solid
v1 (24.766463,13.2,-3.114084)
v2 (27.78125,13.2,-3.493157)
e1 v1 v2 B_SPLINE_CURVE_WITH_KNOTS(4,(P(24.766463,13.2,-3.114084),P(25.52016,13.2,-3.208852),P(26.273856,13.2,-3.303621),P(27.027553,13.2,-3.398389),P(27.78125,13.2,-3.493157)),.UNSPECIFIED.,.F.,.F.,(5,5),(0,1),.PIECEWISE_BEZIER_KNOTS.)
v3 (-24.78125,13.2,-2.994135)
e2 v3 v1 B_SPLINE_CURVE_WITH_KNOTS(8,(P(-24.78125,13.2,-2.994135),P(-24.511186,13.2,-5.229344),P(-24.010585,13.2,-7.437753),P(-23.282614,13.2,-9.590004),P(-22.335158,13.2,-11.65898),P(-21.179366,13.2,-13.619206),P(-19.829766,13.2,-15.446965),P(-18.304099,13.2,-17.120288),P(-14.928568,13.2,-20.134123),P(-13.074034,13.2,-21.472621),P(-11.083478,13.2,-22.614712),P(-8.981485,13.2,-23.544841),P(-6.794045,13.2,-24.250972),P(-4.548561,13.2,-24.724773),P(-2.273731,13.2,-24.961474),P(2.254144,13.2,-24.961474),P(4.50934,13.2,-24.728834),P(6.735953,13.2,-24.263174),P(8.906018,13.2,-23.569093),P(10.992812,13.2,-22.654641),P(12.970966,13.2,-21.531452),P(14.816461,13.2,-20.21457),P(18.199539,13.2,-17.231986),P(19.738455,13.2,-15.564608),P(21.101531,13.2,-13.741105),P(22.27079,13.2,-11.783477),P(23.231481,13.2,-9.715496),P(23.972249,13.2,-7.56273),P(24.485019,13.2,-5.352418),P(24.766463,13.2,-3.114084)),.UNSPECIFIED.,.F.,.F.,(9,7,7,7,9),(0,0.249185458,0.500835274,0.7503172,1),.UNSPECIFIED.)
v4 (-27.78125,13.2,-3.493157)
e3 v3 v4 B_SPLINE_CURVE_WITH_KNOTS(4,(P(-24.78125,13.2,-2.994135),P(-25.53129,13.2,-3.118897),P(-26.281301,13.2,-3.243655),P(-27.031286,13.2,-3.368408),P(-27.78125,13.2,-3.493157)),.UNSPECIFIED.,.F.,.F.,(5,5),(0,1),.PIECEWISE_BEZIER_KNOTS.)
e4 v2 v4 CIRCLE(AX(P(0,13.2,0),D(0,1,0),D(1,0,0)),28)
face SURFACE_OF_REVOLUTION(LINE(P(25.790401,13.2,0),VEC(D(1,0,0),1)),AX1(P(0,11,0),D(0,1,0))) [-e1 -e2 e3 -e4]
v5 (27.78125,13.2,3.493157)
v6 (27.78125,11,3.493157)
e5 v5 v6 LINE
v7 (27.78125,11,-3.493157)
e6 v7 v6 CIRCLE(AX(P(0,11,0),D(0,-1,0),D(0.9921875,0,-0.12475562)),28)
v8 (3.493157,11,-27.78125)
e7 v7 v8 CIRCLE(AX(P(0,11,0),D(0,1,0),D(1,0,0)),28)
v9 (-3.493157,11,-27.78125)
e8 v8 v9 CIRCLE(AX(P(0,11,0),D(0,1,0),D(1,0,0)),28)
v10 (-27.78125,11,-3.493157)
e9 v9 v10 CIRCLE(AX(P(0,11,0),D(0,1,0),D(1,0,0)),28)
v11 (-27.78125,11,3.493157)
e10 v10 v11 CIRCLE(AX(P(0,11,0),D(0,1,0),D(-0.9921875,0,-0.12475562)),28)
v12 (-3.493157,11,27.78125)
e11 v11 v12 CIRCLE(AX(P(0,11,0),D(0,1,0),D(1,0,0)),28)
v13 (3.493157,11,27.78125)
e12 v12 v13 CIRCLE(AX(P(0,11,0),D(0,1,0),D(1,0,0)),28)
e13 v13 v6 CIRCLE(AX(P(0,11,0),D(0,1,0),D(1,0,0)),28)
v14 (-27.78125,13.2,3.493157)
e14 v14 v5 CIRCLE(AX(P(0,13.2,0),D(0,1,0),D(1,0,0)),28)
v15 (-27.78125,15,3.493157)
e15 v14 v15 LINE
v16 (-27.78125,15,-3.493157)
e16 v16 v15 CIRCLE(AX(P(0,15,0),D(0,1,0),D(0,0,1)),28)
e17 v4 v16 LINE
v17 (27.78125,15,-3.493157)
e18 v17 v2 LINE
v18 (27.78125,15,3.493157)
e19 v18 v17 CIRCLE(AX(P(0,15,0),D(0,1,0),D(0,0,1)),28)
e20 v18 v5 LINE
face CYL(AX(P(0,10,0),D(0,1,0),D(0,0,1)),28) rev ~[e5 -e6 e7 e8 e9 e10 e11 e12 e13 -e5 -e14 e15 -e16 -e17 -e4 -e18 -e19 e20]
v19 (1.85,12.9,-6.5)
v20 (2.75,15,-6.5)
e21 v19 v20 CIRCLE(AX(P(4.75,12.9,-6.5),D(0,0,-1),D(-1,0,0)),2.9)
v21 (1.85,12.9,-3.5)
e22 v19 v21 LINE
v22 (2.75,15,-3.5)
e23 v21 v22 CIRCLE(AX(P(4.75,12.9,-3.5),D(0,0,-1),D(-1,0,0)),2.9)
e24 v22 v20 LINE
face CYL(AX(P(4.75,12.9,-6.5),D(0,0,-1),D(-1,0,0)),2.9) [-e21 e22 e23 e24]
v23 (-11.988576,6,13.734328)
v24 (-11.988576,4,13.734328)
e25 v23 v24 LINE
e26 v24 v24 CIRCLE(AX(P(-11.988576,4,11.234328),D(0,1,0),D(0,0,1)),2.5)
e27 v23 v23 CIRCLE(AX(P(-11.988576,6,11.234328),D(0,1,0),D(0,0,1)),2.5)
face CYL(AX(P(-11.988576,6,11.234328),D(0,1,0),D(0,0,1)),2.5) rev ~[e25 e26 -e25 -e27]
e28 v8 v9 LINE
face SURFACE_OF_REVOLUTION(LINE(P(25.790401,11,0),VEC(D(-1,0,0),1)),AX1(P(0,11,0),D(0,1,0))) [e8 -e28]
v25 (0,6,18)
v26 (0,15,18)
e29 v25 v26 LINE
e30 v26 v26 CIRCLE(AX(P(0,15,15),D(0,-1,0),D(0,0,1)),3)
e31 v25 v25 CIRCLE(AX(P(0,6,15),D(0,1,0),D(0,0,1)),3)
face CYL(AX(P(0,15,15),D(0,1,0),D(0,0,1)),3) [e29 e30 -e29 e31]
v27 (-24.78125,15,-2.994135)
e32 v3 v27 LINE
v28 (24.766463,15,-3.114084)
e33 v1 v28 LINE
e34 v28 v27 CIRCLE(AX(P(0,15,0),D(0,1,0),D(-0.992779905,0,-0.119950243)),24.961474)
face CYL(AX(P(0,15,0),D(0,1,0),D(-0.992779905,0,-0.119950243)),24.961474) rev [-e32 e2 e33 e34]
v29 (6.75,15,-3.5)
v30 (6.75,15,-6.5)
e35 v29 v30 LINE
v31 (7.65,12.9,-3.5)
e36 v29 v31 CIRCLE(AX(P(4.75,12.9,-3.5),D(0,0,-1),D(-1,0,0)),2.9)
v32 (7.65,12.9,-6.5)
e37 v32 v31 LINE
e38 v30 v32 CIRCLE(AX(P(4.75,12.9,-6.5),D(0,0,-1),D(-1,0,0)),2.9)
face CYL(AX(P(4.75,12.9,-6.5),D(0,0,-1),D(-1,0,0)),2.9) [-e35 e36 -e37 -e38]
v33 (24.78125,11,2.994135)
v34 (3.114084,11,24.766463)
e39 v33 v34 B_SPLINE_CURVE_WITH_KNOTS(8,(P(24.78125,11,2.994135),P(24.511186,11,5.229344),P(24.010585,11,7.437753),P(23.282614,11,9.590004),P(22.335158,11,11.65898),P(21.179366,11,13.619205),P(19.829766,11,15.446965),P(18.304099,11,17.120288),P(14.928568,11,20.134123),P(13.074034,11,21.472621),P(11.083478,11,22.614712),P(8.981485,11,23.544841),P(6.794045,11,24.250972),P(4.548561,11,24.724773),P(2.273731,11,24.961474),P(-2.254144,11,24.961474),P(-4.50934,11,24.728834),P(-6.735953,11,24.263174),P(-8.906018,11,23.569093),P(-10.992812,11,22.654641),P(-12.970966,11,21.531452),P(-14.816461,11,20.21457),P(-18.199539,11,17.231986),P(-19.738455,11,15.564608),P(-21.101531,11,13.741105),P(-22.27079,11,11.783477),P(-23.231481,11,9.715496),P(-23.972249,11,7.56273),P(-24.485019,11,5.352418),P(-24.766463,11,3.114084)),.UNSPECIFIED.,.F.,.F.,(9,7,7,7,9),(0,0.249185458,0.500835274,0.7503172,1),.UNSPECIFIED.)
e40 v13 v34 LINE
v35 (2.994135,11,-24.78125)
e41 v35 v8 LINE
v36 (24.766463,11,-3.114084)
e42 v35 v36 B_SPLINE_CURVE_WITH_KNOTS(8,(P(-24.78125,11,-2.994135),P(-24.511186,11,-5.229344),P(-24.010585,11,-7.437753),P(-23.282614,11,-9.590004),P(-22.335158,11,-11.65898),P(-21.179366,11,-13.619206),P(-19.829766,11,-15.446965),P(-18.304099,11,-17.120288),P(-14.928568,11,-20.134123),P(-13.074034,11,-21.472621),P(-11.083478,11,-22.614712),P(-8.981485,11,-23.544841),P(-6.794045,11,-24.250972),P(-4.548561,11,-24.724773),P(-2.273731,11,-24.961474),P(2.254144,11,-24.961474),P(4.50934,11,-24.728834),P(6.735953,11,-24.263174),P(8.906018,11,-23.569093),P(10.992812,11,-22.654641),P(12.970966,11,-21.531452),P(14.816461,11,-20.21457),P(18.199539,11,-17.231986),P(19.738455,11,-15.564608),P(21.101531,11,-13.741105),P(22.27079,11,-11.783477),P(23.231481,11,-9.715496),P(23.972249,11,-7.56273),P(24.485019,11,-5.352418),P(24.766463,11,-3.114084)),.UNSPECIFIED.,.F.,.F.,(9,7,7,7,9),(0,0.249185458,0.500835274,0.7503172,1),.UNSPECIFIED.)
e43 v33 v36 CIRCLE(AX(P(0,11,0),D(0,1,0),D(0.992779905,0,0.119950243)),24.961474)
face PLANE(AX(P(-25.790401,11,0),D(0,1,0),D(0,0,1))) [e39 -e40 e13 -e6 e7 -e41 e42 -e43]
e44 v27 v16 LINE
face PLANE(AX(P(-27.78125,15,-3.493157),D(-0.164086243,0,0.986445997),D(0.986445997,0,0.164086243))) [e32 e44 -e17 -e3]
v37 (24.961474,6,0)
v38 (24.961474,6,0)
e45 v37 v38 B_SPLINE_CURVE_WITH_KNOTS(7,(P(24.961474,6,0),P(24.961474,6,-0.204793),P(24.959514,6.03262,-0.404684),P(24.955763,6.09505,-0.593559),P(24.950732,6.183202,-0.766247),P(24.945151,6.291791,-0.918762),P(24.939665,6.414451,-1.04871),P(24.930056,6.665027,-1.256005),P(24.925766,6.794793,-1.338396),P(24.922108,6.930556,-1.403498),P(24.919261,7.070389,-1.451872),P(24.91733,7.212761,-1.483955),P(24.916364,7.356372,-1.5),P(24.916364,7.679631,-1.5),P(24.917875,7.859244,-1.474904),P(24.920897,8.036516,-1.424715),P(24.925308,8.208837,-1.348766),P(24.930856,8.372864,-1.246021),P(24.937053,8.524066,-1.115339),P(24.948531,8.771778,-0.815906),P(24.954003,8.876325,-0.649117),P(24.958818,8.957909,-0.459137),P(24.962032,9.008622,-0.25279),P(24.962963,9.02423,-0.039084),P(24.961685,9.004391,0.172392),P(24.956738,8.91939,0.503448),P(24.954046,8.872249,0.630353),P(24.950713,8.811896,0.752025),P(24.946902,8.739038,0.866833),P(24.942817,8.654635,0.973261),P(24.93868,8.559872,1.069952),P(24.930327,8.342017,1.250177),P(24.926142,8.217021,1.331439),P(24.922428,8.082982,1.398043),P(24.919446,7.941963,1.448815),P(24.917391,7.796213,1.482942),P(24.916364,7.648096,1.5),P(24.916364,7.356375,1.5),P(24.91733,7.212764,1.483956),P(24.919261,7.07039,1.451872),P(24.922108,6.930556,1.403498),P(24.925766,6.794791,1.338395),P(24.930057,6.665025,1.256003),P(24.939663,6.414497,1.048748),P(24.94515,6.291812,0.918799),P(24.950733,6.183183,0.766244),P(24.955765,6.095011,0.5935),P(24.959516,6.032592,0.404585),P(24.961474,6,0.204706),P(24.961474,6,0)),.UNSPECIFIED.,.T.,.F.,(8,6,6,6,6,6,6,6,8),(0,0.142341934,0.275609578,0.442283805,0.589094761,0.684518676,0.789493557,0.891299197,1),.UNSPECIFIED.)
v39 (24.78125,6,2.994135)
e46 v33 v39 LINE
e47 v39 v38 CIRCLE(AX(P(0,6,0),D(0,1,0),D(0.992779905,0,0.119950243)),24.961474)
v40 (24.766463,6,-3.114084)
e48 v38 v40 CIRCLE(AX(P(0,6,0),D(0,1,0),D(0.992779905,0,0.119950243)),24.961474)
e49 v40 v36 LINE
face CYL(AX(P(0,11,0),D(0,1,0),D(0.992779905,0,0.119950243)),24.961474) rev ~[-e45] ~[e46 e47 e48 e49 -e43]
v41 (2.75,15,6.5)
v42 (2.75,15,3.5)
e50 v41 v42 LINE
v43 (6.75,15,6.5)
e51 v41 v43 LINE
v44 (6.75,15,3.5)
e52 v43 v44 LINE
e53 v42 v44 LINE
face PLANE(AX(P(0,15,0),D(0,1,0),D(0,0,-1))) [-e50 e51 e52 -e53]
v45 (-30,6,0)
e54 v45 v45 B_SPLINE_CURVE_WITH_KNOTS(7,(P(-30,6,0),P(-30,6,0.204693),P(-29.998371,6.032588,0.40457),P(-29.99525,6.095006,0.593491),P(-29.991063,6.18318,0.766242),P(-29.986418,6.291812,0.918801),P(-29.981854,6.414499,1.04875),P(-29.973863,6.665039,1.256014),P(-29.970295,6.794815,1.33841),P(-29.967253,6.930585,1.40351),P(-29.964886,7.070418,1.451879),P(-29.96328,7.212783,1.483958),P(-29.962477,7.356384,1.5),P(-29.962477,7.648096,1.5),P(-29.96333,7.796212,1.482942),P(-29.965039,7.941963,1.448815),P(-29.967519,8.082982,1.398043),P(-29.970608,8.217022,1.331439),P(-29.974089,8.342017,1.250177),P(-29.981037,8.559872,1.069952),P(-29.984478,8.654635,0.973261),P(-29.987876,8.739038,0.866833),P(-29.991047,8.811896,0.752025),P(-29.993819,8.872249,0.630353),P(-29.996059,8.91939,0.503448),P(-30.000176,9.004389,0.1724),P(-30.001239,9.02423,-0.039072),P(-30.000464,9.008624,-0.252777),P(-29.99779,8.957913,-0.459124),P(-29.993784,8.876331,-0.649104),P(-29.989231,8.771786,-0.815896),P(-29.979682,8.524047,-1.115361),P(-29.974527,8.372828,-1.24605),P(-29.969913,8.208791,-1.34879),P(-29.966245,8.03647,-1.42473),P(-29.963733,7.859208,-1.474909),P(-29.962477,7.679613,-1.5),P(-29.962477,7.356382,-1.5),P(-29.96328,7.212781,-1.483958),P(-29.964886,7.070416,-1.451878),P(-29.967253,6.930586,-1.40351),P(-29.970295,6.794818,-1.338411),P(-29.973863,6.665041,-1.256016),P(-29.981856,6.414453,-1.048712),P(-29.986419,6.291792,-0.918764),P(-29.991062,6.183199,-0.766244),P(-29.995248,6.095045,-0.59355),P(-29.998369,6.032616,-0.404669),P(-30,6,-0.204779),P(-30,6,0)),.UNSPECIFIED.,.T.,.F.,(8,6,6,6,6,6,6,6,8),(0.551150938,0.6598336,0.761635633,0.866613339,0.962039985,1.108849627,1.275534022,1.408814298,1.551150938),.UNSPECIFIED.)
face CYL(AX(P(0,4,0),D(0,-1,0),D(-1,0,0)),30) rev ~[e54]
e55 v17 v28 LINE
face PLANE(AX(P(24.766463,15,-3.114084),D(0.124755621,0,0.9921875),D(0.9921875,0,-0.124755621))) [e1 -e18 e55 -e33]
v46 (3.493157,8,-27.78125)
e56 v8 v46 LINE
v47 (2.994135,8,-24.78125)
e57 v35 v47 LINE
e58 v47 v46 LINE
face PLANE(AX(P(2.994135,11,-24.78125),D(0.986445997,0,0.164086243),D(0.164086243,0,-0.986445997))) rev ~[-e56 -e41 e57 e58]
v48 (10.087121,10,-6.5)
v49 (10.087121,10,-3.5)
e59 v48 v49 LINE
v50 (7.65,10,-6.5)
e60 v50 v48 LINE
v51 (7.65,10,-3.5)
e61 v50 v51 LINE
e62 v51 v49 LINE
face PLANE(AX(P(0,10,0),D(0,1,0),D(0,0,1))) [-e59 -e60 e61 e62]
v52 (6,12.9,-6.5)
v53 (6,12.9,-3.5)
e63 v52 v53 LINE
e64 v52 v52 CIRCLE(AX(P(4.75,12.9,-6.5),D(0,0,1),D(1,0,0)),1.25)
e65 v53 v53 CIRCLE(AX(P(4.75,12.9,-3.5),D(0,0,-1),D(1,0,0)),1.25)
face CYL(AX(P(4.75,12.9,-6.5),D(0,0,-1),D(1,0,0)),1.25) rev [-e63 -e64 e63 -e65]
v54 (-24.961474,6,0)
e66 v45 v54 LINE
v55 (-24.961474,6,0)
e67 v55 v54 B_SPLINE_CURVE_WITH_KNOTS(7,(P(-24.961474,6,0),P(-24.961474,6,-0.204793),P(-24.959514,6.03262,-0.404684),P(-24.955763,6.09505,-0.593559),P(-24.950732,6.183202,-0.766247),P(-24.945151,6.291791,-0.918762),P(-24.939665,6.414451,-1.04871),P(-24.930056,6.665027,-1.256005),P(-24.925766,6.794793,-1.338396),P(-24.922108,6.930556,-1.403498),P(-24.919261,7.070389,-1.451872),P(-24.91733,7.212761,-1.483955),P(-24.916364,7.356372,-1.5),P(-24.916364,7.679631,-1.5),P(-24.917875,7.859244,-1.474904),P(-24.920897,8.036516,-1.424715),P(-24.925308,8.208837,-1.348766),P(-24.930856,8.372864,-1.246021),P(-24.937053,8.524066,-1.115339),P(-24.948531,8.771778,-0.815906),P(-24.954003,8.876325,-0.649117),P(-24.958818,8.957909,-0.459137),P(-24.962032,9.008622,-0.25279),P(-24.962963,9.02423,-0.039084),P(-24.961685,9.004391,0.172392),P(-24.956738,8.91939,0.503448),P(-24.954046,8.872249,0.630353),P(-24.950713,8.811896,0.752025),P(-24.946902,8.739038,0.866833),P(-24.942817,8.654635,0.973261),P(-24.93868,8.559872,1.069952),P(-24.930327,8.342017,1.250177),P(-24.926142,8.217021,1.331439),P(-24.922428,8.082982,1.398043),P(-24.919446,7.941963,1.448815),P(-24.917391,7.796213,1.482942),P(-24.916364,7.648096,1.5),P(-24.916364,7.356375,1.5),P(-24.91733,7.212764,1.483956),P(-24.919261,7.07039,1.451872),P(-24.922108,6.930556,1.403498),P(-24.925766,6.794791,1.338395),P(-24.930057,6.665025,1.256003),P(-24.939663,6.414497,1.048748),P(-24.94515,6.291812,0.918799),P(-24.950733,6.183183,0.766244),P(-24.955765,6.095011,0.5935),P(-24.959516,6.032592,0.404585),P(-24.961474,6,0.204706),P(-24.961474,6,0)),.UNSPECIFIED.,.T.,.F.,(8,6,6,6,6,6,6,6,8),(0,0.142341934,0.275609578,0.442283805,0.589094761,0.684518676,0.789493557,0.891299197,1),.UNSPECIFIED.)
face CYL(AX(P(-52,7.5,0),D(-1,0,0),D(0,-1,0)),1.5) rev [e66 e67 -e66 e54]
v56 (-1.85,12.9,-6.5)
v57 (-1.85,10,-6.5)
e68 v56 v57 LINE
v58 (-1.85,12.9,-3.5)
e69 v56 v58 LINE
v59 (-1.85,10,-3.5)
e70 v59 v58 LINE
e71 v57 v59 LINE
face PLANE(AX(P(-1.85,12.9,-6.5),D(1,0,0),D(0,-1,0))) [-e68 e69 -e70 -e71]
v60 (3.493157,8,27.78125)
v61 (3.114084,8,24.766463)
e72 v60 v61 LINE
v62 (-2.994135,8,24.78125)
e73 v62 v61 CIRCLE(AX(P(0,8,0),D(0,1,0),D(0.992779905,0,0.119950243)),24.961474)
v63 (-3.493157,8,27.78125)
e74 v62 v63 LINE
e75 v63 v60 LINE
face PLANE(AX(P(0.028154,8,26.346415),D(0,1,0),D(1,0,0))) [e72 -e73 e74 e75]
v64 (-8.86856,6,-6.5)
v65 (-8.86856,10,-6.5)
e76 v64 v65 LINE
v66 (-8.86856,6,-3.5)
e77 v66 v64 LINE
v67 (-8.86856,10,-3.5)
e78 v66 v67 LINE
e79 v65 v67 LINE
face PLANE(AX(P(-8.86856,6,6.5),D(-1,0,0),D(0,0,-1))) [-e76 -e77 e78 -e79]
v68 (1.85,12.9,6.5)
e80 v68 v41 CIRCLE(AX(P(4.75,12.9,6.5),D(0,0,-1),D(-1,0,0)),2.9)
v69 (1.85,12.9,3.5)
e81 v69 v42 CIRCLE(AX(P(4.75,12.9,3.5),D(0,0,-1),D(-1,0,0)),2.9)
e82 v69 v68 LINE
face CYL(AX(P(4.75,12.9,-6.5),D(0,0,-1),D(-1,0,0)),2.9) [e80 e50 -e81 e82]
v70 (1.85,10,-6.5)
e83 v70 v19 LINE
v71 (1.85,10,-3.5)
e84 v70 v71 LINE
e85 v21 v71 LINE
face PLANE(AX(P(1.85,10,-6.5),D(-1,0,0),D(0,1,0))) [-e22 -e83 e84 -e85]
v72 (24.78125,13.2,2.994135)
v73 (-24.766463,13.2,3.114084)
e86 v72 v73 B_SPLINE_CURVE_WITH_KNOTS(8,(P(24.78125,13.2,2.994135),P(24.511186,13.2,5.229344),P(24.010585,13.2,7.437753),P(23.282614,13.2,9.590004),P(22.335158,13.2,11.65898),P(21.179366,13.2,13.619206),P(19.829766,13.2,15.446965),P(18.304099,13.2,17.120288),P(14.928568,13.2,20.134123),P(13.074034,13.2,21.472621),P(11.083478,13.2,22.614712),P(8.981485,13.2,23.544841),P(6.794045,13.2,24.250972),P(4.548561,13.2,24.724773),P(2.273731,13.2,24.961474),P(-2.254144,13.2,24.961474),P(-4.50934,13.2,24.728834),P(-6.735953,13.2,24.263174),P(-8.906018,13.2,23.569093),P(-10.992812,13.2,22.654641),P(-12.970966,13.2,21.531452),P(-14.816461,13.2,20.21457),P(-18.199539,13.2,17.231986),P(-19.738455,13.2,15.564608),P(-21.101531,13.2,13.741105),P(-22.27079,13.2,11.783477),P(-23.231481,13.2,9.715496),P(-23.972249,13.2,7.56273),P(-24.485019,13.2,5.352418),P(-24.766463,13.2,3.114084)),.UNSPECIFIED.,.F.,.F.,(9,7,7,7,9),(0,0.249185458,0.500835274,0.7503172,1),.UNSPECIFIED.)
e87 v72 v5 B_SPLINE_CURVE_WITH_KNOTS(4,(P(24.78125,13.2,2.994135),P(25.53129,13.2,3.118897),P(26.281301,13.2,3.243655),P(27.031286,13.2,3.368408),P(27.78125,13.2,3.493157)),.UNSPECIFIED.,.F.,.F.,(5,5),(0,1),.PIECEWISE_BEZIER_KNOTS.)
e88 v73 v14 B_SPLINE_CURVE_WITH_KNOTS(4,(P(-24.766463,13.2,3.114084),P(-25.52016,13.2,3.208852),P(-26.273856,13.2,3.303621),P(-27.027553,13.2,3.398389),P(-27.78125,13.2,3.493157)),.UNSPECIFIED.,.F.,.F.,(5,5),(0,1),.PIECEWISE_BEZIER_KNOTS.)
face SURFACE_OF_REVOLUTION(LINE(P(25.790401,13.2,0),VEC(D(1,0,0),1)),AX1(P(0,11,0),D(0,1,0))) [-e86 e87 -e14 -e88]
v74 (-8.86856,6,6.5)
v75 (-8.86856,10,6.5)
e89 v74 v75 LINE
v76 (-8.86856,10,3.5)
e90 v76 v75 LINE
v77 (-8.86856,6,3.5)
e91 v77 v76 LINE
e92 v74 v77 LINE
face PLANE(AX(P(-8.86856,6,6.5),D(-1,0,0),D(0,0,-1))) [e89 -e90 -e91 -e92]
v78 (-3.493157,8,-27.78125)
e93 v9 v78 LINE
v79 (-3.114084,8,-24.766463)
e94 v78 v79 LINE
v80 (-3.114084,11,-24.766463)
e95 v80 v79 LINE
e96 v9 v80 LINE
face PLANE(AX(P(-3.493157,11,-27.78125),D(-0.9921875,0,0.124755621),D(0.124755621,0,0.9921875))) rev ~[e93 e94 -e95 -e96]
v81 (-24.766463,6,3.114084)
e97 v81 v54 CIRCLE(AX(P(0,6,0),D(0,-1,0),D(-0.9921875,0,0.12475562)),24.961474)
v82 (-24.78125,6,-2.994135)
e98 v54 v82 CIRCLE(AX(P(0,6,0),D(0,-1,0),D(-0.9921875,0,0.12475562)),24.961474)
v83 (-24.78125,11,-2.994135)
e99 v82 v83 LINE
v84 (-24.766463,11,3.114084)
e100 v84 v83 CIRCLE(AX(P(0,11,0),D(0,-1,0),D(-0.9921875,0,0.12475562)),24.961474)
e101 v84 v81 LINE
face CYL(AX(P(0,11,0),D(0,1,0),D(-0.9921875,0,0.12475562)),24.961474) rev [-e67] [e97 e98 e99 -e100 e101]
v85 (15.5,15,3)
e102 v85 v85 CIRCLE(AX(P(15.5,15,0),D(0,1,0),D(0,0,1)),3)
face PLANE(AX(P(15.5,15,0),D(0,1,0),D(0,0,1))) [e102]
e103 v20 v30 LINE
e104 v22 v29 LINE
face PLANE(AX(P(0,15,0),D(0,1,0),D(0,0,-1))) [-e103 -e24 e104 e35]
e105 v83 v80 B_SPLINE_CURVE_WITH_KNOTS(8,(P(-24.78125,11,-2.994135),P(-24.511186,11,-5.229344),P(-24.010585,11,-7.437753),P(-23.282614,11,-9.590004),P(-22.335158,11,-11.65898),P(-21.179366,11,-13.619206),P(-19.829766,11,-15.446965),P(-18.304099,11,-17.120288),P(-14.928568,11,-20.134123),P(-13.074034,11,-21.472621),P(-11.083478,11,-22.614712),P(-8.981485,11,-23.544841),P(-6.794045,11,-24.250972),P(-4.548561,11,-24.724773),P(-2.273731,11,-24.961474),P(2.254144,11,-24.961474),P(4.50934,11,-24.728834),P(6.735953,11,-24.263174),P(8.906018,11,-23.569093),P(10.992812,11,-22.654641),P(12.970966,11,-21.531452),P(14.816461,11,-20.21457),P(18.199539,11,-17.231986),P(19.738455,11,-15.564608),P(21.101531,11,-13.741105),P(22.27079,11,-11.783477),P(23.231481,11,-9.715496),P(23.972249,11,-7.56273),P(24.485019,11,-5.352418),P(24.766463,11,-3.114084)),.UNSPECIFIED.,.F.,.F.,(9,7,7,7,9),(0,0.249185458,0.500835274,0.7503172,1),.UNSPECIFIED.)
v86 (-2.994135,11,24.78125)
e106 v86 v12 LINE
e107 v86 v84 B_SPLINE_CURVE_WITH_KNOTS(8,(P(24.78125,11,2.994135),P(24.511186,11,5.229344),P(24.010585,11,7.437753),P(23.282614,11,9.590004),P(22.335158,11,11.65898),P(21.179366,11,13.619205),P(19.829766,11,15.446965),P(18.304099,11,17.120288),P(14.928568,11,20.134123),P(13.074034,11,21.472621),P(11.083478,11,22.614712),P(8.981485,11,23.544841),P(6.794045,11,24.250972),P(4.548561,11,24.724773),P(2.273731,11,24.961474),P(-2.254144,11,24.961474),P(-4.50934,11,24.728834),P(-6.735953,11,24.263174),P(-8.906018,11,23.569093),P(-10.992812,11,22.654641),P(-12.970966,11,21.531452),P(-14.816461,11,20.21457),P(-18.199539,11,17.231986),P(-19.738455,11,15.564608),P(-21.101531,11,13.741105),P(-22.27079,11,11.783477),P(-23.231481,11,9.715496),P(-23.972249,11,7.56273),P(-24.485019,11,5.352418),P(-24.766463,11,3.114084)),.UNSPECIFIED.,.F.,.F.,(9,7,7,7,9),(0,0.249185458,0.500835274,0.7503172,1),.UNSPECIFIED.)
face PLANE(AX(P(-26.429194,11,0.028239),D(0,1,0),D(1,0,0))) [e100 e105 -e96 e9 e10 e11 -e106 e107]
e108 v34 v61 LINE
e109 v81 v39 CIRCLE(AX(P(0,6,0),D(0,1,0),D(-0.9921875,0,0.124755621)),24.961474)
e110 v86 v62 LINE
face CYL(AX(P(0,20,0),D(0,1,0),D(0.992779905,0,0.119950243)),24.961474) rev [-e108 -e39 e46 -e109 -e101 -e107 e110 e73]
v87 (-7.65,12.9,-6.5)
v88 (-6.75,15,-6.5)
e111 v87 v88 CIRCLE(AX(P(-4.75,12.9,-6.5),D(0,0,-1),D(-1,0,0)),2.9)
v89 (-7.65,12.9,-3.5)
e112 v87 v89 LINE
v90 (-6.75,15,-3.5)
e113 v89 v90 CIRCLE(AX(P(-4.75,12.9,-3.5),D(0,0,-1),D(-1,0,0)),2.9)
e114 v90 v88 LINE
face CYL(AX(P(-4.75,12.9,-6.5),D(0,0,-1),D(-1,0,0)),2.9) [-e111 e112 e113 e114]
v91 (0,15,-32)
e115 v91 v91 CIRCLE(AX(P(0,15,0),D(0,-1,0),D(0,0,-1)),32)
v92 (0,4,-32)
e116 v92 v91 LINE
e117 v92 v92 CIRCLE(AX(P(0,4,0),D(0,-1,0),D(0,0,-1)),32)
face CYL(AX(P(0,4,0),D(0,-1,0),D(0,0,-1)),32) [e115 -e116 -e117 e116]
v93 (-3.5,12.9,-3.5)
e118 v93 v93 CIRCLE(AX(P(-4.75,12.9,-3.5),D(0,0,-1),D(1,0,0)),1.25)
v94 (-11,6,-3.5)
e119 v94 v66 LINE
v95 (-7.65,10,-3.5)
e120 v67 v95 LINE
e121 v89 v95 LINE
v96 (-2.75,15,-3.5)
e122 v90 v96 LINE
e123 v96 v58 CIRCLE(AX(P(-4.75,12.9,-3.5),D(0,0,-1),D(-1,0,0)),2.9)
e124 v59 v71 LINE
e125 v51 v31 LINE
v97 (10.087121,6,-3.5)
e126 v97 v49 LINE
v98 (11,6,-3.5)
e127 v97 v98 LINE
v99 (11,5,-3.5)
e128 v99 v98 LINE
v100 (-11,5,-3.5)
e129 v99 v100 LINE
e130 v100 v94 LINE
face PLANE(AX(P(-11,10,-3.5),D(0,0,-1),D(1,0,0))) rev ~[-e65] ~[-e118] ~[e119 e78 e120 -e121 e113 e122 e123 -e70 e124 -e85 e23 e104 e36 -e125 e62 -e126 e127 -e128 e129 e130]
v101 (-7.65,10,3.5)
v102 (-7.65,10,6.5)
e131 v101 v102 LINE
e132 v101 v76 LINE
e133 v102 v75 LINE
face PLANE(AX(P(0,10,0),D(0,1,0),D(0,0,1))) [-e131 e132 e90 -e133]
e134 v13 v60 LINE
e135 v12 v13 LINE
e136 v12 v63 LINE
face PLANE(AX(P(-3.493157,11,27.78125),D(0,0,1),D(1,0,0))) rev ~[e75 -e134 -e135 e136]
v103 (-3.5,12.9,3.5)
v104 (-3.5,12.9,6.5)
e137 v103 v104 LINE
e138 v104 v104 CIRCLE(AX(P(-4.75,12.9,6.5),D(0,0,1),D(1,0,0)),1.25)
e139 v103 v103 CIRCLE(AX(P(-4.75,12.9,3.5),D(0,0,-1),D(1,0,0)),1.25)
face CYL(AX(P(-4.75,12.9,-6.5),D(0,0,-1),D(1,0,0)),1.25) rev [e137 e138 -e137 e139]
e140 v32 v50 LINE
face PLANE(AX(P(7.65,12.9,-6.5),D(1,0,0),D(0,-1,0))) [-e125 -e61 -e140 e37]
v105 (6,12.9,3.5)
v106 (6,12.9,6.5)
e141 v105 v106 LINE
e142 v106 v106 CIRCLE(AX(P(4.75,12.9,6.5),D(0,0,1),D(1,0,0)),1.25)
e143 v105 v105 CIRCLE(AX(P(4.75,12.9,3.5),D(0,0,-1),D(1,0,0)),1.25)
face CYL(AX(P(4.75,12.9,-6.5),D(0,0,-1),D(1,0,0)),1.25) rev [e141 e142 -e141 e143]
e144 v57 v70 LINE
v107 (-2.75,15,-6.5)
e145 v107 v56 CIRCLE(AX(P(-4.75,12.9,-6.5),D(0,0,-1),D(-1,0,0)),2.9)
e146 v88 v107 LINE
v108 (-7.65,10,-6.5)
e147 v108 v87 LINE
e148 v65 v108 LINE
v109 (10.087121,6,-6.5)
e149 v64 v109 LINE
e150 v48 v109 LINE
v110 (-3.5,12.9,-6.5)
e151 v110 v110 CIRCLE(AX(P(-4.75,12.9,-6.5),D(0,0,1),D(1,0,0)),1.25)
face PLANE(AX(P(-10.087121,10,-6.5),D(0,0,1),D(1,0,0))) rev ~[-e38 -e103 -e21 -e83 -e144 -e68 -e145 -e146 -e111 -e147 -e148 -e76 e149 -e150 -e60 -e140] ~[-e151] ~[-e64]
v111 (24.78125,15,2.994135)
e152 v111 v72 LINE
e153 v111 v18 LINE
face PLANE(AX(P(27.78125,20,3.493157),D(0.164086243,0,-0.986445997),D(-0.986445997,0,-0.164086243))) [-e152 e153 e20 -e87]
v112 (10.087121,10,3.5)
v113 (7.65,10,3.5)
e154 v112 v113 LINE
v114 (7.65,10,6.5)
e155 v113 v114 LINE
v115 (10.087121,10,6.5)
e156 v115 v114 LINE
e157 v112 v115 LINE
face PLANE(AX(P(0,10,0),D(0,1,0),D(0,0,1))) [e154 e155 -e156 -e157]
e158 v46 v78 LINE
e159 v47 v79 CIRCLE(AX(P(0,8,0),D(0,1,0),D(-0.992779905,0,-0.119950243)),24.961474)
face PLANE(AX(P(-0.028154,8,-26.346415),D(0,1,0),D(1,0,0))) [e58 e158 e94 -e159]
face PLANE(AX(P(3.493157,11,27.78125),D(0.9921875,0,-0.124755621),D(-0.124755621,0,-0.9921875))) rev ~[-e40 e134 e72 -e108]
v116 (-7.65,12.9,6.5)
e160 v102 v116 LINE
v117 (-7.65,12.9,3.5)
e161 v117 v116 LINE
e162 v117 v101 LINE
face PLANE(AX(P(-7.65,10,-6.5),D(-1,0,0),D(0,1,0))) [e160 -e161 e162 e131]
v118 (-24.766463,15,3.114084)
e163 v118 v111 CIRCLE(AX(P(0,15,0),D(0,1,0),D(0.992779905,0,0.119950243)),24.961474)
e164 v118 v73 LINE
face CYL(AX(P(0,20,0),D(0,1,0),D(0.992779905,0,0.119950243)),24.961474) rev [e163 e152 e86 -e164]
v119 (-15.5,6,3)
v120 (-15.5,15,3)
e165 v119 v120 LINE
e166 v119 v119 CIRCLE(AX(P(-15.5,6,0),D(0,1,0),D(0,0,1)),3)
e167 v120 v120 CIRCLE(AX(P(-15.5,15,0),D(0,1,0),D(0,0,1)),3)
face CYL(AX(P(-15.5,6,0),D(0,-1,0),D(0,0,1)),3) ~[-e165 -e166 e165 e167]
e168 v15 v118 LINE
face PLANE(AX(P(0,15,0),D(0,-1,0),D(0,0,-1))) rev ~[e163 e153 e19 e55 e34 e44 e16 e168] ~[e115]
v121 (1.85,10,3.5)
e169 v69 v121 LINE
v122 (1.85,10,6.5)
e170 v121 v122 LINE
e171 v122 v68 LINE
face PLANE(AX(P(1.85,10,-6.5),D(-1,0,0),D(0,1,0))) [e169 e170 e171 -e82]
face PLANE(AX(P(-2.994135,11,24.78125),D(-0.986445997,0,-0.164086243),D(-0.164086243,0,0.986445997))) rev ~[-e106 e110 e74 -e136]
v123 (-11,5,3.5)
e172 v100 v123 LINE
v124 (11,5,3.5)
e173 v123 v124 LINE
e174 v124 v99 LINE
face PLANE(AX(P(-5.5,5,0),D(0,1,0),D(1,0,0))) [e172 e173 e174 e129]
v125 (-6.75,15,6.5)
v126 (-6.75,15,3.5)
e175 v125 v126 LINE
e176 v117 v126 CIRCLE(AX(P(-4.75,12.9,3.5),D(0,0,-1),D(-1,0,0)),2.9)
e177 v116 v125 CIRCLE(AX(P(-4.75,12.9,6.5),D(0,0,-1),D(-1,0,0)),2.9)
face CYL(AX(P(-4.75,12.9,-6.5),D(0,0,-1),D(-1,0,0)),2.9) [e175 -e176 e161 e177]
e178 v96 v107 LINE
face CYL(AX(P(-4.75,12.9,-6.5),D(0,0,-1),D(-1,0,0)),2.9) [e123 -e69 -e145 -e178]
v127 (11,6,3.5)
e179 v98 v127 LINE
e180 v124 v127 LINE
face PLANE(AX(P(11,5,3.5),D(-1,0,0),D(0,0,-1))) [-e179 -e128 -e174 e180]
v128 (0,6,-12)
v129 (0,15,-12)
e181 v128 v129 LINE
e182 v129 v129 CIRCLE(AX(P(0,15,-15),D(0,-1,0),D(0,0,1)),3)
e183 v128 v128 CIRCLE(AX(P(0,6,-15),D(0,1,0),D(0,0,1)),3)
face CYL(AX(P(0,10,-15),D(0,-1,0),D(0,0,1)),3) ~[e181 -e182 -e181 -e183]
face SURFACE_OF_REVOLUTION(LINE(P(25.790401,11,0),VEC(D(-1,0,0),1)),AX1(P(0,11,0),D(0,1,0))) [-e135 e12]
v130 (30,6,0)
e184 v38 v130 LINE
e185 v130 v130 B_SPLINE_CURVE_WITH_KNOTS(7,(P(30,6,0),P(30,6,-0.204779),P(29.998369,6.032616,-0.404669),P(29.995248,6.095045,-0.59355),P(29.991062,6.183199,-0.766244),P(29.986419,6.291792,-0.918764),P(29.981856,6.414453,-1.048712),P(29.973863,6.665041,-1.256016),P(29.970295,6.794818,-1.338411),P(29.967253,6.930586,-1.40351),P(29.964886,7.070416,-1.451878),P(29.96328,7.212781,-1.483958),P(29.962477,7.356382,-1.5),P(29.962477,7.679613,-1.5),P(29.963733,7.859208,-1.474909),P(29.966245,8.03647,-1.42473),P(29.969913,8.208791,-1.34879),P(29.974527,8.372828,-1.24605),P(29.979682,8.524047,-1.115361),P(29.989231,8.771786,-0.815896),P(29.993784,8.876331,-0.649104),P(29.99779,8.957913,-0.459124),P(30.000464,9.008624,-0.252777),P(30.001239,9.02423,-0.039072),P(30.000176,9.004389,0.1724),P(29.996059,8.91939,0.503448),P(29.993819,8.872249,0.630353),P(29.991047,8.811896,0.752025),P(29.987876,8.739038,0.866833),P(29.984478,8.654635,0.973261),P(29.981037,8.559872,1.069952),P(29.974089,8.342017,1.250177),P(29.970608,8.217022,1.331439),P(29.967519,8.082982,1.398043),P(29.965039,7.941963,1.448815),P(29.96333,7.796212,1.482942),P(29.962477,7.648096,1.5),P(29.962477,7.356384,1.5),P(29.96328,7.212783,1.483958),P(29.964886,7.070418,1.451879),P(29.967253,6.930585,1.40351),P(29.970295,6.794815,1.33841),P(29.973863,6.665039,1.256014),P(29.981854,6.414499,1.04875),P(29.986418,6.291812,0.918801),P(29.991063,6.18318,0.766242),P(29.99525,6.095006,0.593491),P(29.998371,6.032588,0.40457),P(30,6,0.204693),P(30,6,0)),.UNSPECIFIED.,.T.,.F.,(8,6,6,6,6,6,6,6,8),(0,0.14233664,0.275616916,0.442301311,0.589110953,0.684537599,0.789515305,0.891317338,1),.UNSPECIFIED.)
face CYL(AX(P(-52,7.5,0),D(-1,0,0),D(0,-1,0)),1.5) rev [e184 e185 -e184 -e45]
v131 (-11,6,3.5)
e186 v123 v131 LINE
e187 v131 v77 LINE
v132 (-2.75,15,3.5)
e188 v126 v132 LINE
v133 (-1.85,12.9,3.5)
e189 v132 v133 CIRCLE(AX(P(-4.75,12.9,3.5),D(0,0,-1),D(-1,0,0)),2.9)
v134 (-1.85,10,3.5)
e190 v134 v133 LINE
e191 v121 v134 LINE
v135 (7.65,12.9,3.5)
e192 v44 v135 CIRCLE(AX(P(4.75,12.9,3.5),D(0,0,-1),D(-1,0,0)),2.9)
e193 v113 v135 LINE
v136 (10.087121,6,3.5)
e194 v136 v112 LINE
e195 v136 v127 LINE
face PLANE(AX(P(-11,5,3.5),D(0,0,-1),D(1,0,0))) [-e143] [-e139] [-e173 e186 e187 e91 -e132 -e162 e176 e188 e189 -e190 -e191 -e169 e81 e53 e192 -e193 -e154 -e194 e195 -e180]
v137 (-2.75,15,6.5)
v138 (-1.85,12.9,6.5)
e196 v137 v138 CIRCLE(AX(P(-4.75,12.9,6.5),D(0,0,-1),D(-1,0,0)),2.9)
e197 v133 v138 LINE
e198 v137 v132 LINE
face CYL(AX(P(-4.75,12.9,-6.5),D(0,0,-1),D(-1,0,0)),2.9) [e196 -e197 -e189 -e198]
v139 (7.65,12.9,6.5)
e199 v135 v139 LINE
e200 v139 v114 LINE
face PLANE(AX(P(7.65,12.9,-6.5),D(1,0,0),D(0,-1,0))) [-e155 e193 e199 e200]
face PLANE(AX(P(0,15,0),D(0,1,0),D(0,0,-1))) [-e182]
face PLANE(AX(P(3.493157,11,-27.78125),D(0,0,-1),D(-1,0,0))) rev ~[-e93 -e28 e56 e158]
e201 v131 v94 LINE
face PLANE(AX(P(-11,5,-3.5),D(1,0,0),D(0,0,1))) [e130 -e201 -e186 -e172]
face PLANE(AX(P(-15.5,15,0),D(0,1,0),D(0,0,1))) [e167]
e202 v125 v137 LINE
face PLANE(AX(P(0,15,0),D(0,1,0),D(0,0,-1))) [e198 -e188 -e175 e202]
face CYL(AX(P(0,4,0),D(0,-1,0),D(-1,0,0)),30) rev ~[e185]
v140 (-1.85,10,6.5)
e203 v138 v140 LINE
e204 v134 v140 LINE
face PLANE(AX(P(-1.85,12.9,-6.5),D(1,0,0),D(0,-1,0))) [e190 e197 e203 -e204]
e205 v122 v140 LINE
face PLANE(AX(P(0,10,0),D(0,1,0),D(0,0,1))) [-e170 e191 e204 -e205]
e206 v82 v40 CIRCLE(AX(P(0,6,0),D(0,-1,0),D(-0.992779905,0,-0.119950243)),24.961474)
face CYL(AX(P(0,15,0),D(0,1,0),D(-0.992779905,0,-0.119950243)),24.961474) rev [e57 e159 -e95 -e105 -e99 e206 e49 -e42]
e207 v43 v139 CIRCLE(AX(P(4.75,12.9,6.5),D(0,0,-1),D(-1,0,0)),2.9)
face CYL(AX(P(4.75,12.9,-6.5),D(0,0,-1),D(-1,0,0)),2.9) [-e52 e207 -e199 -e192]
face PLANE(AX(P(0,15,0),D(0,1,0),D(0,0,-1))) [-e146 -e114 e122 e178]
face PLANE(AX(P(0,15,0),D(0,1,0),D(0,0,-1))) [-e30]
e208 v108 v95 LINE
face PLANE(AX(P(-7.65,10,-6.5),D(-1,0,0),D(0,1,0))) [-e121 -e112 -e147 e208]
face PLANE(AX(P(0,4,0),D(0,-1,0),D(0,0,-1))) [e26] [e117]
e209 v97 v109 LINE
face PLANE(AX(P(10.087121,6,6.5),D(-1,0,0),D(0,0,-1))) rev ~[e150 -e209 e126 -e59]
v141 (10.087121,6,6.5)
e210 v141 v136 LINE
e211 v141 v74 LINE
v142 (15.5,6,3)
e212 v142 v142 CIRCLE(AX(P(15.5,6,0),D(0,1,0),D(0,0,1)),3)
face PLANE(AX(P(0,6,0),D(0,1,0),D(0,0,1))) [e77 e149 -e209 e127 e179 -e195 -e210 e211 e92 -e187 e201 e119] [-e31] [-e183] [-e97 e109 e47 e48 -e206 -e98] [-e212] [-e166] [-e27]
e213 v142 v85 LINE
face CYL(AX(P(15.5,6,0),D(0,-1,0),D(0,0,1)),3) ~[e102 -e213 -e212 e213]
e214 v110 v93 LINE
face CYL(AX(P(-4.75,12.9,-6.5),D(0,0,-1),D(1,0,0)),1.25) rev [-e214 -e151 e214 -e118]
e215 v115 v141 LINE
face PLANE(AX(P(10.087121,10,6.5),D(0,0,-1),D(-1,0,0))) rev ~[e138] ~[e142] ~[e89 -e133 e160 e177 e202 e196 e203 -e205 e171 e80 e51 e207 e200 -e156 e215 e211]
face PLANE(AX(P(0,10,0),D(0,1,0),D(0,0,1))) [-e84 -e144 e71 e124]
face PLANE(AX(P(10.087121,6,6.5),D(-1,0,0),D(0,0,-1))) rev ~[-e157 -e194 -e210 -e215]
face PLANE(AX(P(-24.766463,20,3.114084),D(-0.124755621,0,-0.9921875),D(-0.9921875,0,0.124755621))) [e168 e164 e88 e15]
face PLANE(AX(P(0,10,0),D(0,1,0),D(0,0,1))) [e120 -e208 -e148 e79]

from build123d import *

# Parameters (mm, degrees)
SKETCH1_R                = 30
BOSS_EXTRUDE1_DEPTH      = 20
SKETCH2_R                = 28
CUT_EXTRUDE1_DEPTH       = 10
CUT_EXTRUDE2_DEPTH       = 6.5
CUT_EXTRUDE2_DEPTH_BACK  = 5
BOSS_EXTRUDE2_DEPTH      = 6.5
BOSS_EXTRUDE2_DEPTH_BACK = 6.5
SKETCH4_R                = 1.25
SKETCH5_W                = 22
SKETCH5_H                = 7
CUT_EXTRUDE4_DEPTH       = 8.5
SKETCH8_R                = 3
BOSS_EXTRUDE3_DEPTH      = 10
SKETCH9_R                = 30
CUT_EXTRUDE6_DEPTH       = 4
BOSS_EXTRUDE4_DEPTH      = 7
BOSS_EXTRUDE4_2_DEPTH    = 7
CUT_EXTRUDE7_START       = -5
SKETCH12_R               = 30
CUT_EXTRUDE7_DEPTH       = 5
SKETCH13_R               = 28
SKETCH13_R_2             = 12
CUT_EXTRUDE8_DEPTH       = 4
BOSS_EXTRUDE5_DEPTH      = 9
SKETCH24_W               = 4.419198498
SKETCH24_H               = 2.2
CUT_EXTRUDE9_DEPTH       = 4
CUT_EXTRUDE10_DEPTH      = 3
BOSS_EXTRUDE6_DEPTH      = 5
SKETCH34_R               = 3
BOSS_EXTRUDE7_DEPTH      = 9
CUT_EXTRUDE12_DEPTH      = 53
CUT_EXTRUDE12_DEPTH_BACK = 41
SKETCH35_R               = 1.5
SKETCH37_R               = 3
BOSS_EXTRUDE9_DEPTH      = 9
SKETCH38_R               = 2.5
CUT_EXTRUDE13_DEPTH      = 10
CUT_EXTRUDE14_DEPTH      = 5
SKETCH41_W               = 2
SKETCH41_H               = 13
CUT_EXTRUDE17_DEPTH      = 5
SKETCH43_R               = 32
SKETCH43_R_2             = 30
BOSS_EXTRUDE10_DEPTH     = 11


with BuildPart() as part:
    # Sketch1 → Boss-Extrude1 (new body)
    with BuildSketch(Plane(origin=(0, 0, 0), x_dir=(1, 0, 0), z_dir=(0, 1, 0))):
        with Locations(Location((0, 0, 0), (0, 0, 270))):
            Circle(SKETCH1_R)
    extrude(amount=BOSS_EXTRUDE1_DEPTH)

    # Sketch2 → Cut-Extrude1 (cut)
    with BuildSketch(Plane(origin=(0, 20, 0), x_dir=(1, 0, 0), z_dir=(0, 1, 0))):
        with Locations(Location((0, 0, 0), (0, 0, 270))):
            Circle(SKETCH2_R)
    extrude(amount=-CUT_EXTRUDE1_DEPTH, mode=Mode.SUBTRACT)

    # Sketch3 → Cut-Extrude2 (cut, two sides: drawn at the far end of the back side and taken through both)
    with BuildSketch(Plane(origin=(0, 10, 0), x_dir=(1, 0, 0), z_dir=(0, 1, 0)).offset(-CUT_EXTRUDE2_DEPTH_BACK)):
        Polygon((0, -3.5), (0, 0), (0, 3.5), (-11, 3.5), (-11, -3.5), align=None)
        Polygon((0, 3.5), (0, 0), (0, -3.5), (11, -3.5), (11, 3.5), align=None)
    extrude(amount=CUT_EXTRUDE2_DEPTH + CUT_EXTRUDE2_DEPTH_BACK, mode=Mode.SUBTRACT)

    # Sketch4 → Boss-Extrude2 (add, two sides: drawn at the far end of the back side and taken through both)
    # profile 1 of 2: a face of its own
    with BuildSketch(Plane.XY.offset(-BOSS_EXTRUDE2_DEPTH_BACK)):
        with BuildLine():
            Line((-1.85, 12.9), (-1.85, 10))
            Line((-1.85, 10), (-4.75, 10))
            Line((-4.75, 10), (-7.65, 10))
            Line((-7.65, 10), (-7.65, 12.9))
            ThreePointArc((-7.65, 12.9), (-4.75, 15.8), (-1.85, 12.9))
        make_face()
        with Locations((-4.75, 12.9)):
            Circle(SKETCH4_R, mode=Mode.SUBTRACT)
    # profile 2 of 2: a face of its own
    with BuildSketch(Plane.XY.offset(-BOSS_EXTRUDE2_DEPTH_BACK)):
        with BuildLine():
            Line((7.65, 12.9), (7.65, 10))
            Line((7.65, 10), (1.85, 10))
            Line((1.85, 10), (1.85, 12.9))
            ThreePointArc((1.85, 12.9), (4.75, 15.8), (7.65, 12.9))
        make_face()
        with Locations((4.75, 12.9)):
            Circle(SKETCH4_R, mode=Mode.SUBTRACT)
    extrude(amount=BOSS_EXTRUDE2_DEPTH + BOSS_EXTRUDE2_DEPTH_BACK)

    # Sketch5 → Cut-Extrude4 (cut)
    with BuildSketch(Plane(origin=(0, 10, 0), x_dir=(1, 0, 0), z_dir=(0, 1, 0))):
        Rectangle(SKETCH5_W, SKETCH5_H)
    extrude(amount=CUT_EXTRUDE4_DEPTH, mode=Mode.SUBTRACT)

    # Sketch8 → Boss-Extrude3 (add)
    with BuildSketch(Plane(origin=(0, 10, 0), x_dir=(1, 0, 0), z_dir=(0, 1, 0))):
        with Locations(Location((0, 15, 0), (0, 0, 270))):
            Circle(SKETCH8_R)
        with Locations(Location((0, -15, 0), (0, 0, 270))):
            Circle(SKETCH8_R)
    extrude(amount=BOSS_EXTRUDE3_DEPTH)

    # Sketch9 → Cut-Extrude6 (cut)
    with BuildSketch(Plane.XZ):
        with Locations(Location((0, 0, 0), (0, 0, 270))):
            Circle(SKETCH9_R)
    extrude(amount=-CUT_EXTRUDE6_DEPTH, mode=Mode.SUBTRACT)


with BuildPart() as body_2:
    # Sketch11 → Boss-Extrude4 (new body)
    with BuildSketch(Plane(origin=(0, 20, 0), x_dir=(1, 0, 0), z_dir=(0, 1, 0))):
        with BuildLine():
            Line((-24.766462704, -3.114084205), (-27.78125, -3.493157374))
            ThreePointArc((-27.78125, -3.493157374), (0, -28), (27.78125, -3.493157374))
            Line((27.78125, -3.493157374), (24.78125, -2.994134892))
            ThreePointArc((24.78125, -2.994134892), (0.060428681, -24.961401076), (-24.766462704, -3.114084205))
        make_face()
    extrude(amount=-BOSS_EXTRUDE4_DEPTH)


with BuildPart() as body_3:
    # Sketch11 → Boss-Extrude4 2 (new body)
    with BuildSketch(Plane(origin=(0, 20, 0), x_dir=(1, 0, 0), z_dir=(0, 1, 0))):
        with BuildLine():
            ThreePointArc((27.78125, 3.493157374), (0, 28), (-27.78125, 3.493157374))
            Line((-27.78125, 3.493157374), (-24.78125, 2.994134892))
            ThreePointArc((-24.78125, 2.994134892), (-0.060428681, 24.961401076), (24.766462704, 3.114084205))
            Line((24.766462704, 3.114084205), (27.78125, 3.493157374))
        make_face()
    extrude(amount=-BOSS_EXTRUDE4_2_DEPTH)


with BuildPart() as cut_extrude7_tool:
    # Sketch12 → Cut-Extrude7 (new body)
    with BuildSketch(Plane(origin=(0, 20, 0), x_dir=(1, 0, 0), z_dir=(0, 1, 0)).offset(CUT_EXTRUDE7_START)):
        with Locations(Location((0, 0, 0), (0, 0, 90))):
            Circle(SKETCH12_R)
    extrude(amount=CUT_EXTRUDE7_DEPTH)


with BuildPart() as part_1:
    add(part.part)

    # Cut-Extrude7: cut by cut_extrude7_tool
    add(cut_extrude7_tool.part, mode=Mode.SUBTRACT)

    # Sketch13 → Cut-Extrude8 (cut)
    with BuildSketch(Plane(origin=(0, 10, 0), x_dir=(1, 0, 0), z_dir=(0, 1, 0))):
        with Locations(Location((0, 0, 0), (0, 0, 270))):
            Circle(SKETCH13_R)
        with Locations(Location((0, 0, 0), (0, 0, 270))):
            Circle(SKETCH13_R_2, mode=Mode.SUBTRACT)
    extrude(amount=-CUT_EXTRUDE8_DEPTH, mode=Mode.SUBTRACT)


with BuildPart() as body_2_1:
    add(body_2.part)

    # Cut-Extrude7: cut by cut_extrude7_tool
    add(cut_extrude7_tool.part, mode=Mode.SUBTRACT)



with BuildPart() as body_3_1:
    add(body_3.part)

    # Cut-Extrude7: cut by cut_extrude7_tool
    add(cut_extrude7_tool.part, mode=Mode.SUBTRACT)


with BuildPart() as cut_extrude8_piece_1:
    # of the separate pieces the step leaves, piece 1, a body of its own (cut_extrude8_pieces)
    add(part_1.part.solids().sort_by_distance((0, 4, 30))[0])


with BuildPart() as cut_extrude8_piece_2:
    # of the separate pieces the step leaves, piece 2, a body of its own (cut_extrude8_pieces)
    add(part_1.part.solids().sort_by_distance((0, 10, 18))[0])


with BuildPart() as cut_extrude8_piece_3:
    # of the separate pieces the step leaves, piece 3, a body of its own (cut_extrude8_pieces)
    add(part_1.part.solids().sort_by_distance((0, 15, -12))[0])


with BuildPart() as body_2_2:
    add(body_2_1.part)

    add(body_3_1.part)  # Boss-Extrude5 merges body 3

    add(cut_extrude8_piece_1.part)  # Boss-Extrude5 merges Cut-Extrude8 piece 1
    # Sketch16 → Boss-Extrude5 (add)
    with BuildSketch(Plane(origin=(0, 15, 0), x_dir=(1, 0, 0), z_dir=(0, 1, 0))):
        with BuildLine():
            Line((-27.78125, -3.493157374), (-24.766462704, -3.114084205))
            ThreePointArc((-24.766462704, -3.114084205), (0.060428681, -24.961401076), (24.78125, -2.994134892))
            Line((24.78125, -2.994134892), (27.78125, -3.493157374))
            ThreePointArc((27.78125, -3.493157374), (0, -28), (-27.78125, -3.493157374))
        make_face()
        with BuildLine():
            Line((-27.78125, 3.493157374), (-24.78125, 2.994134892))
            ThreePointArc((-24.78125, 2.994134892), (-0.060428681, 24.961401076), (24.766462704, 3.114084205))
            Line((24.766462704, 3.114084205), (27.78125, 3.493157374))
            ThreePointArc((27.78125, 3.493157374), (0, 28), (-27.78125, 3.493157374))
        make_face()
    extrude(amount=-BOSS_EXTRUDE5_DEPTH)

    # Cut-Sweep2: sweep along a path in Sketch17
    with BuildLine(Plane(origin=(0, 11, 0), x_dir=(1, 0, 0), z_dir=(0, 1, 0))) as cut_sweep2_path:
        CenterArc((0, 0), 26.48, 0, 360)
    # Sketch24 → Cut-Sweep2 (sweep, cut)
    with BuildSketch(Plane.XY):
        with Locations((-25.790400751, 12.1)):
            Rectangle(SKETCH24_W, SKETCH24_H)
    sweep(path=cut_sweep2_path.line, mode=Mode.SUBTRACT)

    # Sketch15 → Cut-Extrude9 (cut)
    with BuildSketch(Plane(origin=(0, 10, 0), x_dir=(1, 0, 0), z_dir=(0, 1, 0))):
        with BuildLine():
            Line((-7.65, -6.5), (-10.087120501, -6.5))
            ThreePointArc((-10.087120501, -6.5), (0, -12), (10.087120501, -6.5))
            Line((10.087120501, -6.5), (7.65, -6.5))
            Line((7.65, -6.5), (1.85, -6.5))
            Line((1.85, -6.5), (-1.85, -6.5))
            Line((-1.85, -6.5), (-7.65, -6.5))
        make_face()
        with BuildLine():
            Line((-10.087120501, 6.5), (-7.65, 6.5))
            Line((-7.65, 6.5), (-1.85, 6.5))
            Line((-1.85, 6.5), (1.85, 6.5))
            Line((1.85, 6.5), (7.65, 6.5))
            Line((7.65, 6.5), (10.087120501, 6.5))
            ThreePointArc((10.087120501, 6.5), (0, 12), (-10.087120501, 6.5))
        make_face()
    extrude(amount=-CUT_EXTRUDE9_DEPTH, mode=Mode.SUBTRACT)

    # Sketch32 → Cut-Extrude10 (cut)
    with BuildSketch(Plane(origin=(0, 11, 0), x_dir=(1, 0, 0), z_dir=(0, 1, 0))):
        Polygon((3.114084205, -24.766462704), (-2.994134892, -24.78125), (-3.493157374, -27.78125), (3.493157374, -27.78125), align=None)
        Polygon((-3.114084205, 24.766462704), (2.994134892, 24.78125), (3.493157374, 27.78125), (-3.493157374, 27.78125), align=None)
    extrude(amount=-CUT_EXTRUDE10_DEPTH, mode=Mode.SUBTRACT)

    # Sketch33 → Boss-Extrude6 (add)
    with BuildSketch(Plane(origin=(0, 11, 0), x_dir=(1, 0, 0), z_dir=(0, 1, 0))):
        with BuildLine():
            Line((-24.78125, 2.994134892), (-27.78125, 3.493157374))
            ThreePointArc((-27.78125, 3.493157374), (-28, 0), (-27.78125, -3.493157374))
            Line((-27.78125, -3.493157374), (-24.766462704, -3.114084205))
            ThreePointArc((-24.766462704, -3.114084205), (-24.961401076, -0.060428681), (-24.78125, 2.994134892))
        make_face()
        with BuildLine():
            Line((24.766462704, 3.114084205), (27.78125, 3.493157374))
            ThreePointArc((27.78125, 3.493157374), (28, 0), (27.78125, -3.493157374))
            Line((27.78125, -3.493157374), (24.78125, -2.994134892))
            ThreePointArc((24.78125, -2.994134892), (24.961401076, 0.060428681), (24.766462704, 3.114084205))
        make_face()
    extrude(amount=-BOSS_EXTRUDE6_DEPTH)


    add(cut_extrude8_piece_2.part)  # Boss-Extrude7 merges Cut-Extrude8 piece 2

    add(cut_extrude8_piece_3.part)  # Boss-Extrude7 merges Cut-Extrude8 piece 3
    # Sketch34 → Boss-Extrude7 (add)
    with BuildSketch(Plane(origin=(0, 15, 0), x_dir=(1, 0, 0), z_dir=(0, 1, 0))):
        with Locations(Location((0, 15, 0), (0, 0, 270))):
            Circle(SKETCH34_R)
        with Locations(Location((0, -15, 0), (0, 0, 270))):
            Circle(SKETCH34_R)
    extrude(amount=-BOSS_EXTRUDE7_DEPTH)

    # Sketch35 → Cut-Extrude12 (cut, two sides: drawn at the far end of the back side and taken through both)
    with BuildSketch(Plane(origin=(-11, 0, 0), x_dir=(0, 0, -1), z_dir=(1, 0, 0)).offset(-CUT_EXTRUDE12_DEPTH_BACK)):
        with Locations(Location((0, 7.5, 0), (0, 0, 270))):
            Circle(SKETCH35_R)
    extrude(amount=CUT_EXTRUDE12_DEPTH + CUT_EXTRUDE12_DEPTH_BACK, mode=Mode.SUBTRACT)

    # Sketch37 → Boss-Extrude9 (add)
    with BuildSketch(Plane(origin=(0, 6, 0), x_dir=(1, 0, 0), z_dir=(0, 1, 0))):
        with Locations(Location((-15.5, 0, 0), (0, 0, 270))):
            Circle(SKETCH37_R)
        with Locations(Location((15.5, 0, 0), (0, 0, 270))):
            Circle(SKETCH37_R)
    extrude(amount=BOSS_EXTRUDE9_DEPTH)

    # Sketch38 → Cut-Extrude13 (cut)
    with BuildSketch(Plane(origin=(0, 6, 0), x_dir=(1, 0, 0), z_dir=(0, 1, 0))):
        with Locations(Location((-11.98857587, -11.234327719, 0), (0, 0, 270))):
            Circle(SKETCH38_R)
    extrude(amount=-CUT_EXTRUDE13_DEPTH, mode=Mode.SUBTRACT)

    # Sketch39 → Cut-Extrude14 (cut)
    with BuildSketch(Plane(origin=(0, 6, 0), x_dir=(1, 0, 0), z_dir=(0, 1, 0))):
        with BuildLine():
            Line((12.318162743, 6.5), (12.318162743, -6.5))
            Line((12.318162743, -6.5), (10.087120501, -6.5))
            ThreePointArc((10.087120501, -6.5), (11.511851415, -3.387813011), (12, 0))
            ThreePointArc((12, 0), (11.511851415, 3.387813011), (10.087120501, 6.5))
            Line((10.087120501, 6.5), (12.318162743, 6.5))
        make_face()
        with BuildLine():
            Line((-10.087120501, -6.5), (-8.86856025, -6.5))
            Line((-8.86856025, -6.5), (-8.86856025, 6.5))
            Line((-8.86856025, 6.5), (-10.087120501, 6.5))
            ThreePointArc((-10.087120501, 6.5), (-11.511851415, 3.387813011), (-12, 0))
            ThreePointArc((-12, 0), (-11.511851415, -3.387813011), (-10.087120501, -6.5))
        make_face()
        with BuildLine():
            Line((-11.593391463, -6.5), (-10.087120501, -6.5))
            ThreePointArc((-10.087120501, -6.5), (-11.511851415, -3.387813011), (-12, 0))
            Line((-12, 0), (-12, -6.5))
            Line((-12, -6.5), (-11.593391463, -6.5))
        make_face()
    extrude(amount=CUT_EXTRUDE14_DEPTH, mode=Mode.SUBTRACT)

    # Sketch41 → Cut-Extrude17 (cut)
    with BuildSketch(Plane(origin=(0, 6, 0), x_dir=(1, 0, 0), z_dir=(0, 1, 0))):
        with Locations((11.087120501, 0)):
            Rectangle(SKETCH41_W, SKETCH41_H)
    extrude(amount=CUT_EXTRUDE17_DEPTH, mode=Mode.SUBTRACT)

    # Sketch43 → Boss-Extrude10 (add)
    with BuildSketch(Plane(origin=(0, 4, 0), x_dir=(-1, 0, 0), z_dir=(0, -1, 0))):
        with Locations(Location((0, 0, 0), (0, 0, 90))):
            Circle(SKETCH43_R)
        Circle(SKETCH43_R_2, mode=Mode.SUBTRACT)
    extrude(amount=-BOSS_EXTRUDE10_DEPTH)


solid = body_2_2.part
